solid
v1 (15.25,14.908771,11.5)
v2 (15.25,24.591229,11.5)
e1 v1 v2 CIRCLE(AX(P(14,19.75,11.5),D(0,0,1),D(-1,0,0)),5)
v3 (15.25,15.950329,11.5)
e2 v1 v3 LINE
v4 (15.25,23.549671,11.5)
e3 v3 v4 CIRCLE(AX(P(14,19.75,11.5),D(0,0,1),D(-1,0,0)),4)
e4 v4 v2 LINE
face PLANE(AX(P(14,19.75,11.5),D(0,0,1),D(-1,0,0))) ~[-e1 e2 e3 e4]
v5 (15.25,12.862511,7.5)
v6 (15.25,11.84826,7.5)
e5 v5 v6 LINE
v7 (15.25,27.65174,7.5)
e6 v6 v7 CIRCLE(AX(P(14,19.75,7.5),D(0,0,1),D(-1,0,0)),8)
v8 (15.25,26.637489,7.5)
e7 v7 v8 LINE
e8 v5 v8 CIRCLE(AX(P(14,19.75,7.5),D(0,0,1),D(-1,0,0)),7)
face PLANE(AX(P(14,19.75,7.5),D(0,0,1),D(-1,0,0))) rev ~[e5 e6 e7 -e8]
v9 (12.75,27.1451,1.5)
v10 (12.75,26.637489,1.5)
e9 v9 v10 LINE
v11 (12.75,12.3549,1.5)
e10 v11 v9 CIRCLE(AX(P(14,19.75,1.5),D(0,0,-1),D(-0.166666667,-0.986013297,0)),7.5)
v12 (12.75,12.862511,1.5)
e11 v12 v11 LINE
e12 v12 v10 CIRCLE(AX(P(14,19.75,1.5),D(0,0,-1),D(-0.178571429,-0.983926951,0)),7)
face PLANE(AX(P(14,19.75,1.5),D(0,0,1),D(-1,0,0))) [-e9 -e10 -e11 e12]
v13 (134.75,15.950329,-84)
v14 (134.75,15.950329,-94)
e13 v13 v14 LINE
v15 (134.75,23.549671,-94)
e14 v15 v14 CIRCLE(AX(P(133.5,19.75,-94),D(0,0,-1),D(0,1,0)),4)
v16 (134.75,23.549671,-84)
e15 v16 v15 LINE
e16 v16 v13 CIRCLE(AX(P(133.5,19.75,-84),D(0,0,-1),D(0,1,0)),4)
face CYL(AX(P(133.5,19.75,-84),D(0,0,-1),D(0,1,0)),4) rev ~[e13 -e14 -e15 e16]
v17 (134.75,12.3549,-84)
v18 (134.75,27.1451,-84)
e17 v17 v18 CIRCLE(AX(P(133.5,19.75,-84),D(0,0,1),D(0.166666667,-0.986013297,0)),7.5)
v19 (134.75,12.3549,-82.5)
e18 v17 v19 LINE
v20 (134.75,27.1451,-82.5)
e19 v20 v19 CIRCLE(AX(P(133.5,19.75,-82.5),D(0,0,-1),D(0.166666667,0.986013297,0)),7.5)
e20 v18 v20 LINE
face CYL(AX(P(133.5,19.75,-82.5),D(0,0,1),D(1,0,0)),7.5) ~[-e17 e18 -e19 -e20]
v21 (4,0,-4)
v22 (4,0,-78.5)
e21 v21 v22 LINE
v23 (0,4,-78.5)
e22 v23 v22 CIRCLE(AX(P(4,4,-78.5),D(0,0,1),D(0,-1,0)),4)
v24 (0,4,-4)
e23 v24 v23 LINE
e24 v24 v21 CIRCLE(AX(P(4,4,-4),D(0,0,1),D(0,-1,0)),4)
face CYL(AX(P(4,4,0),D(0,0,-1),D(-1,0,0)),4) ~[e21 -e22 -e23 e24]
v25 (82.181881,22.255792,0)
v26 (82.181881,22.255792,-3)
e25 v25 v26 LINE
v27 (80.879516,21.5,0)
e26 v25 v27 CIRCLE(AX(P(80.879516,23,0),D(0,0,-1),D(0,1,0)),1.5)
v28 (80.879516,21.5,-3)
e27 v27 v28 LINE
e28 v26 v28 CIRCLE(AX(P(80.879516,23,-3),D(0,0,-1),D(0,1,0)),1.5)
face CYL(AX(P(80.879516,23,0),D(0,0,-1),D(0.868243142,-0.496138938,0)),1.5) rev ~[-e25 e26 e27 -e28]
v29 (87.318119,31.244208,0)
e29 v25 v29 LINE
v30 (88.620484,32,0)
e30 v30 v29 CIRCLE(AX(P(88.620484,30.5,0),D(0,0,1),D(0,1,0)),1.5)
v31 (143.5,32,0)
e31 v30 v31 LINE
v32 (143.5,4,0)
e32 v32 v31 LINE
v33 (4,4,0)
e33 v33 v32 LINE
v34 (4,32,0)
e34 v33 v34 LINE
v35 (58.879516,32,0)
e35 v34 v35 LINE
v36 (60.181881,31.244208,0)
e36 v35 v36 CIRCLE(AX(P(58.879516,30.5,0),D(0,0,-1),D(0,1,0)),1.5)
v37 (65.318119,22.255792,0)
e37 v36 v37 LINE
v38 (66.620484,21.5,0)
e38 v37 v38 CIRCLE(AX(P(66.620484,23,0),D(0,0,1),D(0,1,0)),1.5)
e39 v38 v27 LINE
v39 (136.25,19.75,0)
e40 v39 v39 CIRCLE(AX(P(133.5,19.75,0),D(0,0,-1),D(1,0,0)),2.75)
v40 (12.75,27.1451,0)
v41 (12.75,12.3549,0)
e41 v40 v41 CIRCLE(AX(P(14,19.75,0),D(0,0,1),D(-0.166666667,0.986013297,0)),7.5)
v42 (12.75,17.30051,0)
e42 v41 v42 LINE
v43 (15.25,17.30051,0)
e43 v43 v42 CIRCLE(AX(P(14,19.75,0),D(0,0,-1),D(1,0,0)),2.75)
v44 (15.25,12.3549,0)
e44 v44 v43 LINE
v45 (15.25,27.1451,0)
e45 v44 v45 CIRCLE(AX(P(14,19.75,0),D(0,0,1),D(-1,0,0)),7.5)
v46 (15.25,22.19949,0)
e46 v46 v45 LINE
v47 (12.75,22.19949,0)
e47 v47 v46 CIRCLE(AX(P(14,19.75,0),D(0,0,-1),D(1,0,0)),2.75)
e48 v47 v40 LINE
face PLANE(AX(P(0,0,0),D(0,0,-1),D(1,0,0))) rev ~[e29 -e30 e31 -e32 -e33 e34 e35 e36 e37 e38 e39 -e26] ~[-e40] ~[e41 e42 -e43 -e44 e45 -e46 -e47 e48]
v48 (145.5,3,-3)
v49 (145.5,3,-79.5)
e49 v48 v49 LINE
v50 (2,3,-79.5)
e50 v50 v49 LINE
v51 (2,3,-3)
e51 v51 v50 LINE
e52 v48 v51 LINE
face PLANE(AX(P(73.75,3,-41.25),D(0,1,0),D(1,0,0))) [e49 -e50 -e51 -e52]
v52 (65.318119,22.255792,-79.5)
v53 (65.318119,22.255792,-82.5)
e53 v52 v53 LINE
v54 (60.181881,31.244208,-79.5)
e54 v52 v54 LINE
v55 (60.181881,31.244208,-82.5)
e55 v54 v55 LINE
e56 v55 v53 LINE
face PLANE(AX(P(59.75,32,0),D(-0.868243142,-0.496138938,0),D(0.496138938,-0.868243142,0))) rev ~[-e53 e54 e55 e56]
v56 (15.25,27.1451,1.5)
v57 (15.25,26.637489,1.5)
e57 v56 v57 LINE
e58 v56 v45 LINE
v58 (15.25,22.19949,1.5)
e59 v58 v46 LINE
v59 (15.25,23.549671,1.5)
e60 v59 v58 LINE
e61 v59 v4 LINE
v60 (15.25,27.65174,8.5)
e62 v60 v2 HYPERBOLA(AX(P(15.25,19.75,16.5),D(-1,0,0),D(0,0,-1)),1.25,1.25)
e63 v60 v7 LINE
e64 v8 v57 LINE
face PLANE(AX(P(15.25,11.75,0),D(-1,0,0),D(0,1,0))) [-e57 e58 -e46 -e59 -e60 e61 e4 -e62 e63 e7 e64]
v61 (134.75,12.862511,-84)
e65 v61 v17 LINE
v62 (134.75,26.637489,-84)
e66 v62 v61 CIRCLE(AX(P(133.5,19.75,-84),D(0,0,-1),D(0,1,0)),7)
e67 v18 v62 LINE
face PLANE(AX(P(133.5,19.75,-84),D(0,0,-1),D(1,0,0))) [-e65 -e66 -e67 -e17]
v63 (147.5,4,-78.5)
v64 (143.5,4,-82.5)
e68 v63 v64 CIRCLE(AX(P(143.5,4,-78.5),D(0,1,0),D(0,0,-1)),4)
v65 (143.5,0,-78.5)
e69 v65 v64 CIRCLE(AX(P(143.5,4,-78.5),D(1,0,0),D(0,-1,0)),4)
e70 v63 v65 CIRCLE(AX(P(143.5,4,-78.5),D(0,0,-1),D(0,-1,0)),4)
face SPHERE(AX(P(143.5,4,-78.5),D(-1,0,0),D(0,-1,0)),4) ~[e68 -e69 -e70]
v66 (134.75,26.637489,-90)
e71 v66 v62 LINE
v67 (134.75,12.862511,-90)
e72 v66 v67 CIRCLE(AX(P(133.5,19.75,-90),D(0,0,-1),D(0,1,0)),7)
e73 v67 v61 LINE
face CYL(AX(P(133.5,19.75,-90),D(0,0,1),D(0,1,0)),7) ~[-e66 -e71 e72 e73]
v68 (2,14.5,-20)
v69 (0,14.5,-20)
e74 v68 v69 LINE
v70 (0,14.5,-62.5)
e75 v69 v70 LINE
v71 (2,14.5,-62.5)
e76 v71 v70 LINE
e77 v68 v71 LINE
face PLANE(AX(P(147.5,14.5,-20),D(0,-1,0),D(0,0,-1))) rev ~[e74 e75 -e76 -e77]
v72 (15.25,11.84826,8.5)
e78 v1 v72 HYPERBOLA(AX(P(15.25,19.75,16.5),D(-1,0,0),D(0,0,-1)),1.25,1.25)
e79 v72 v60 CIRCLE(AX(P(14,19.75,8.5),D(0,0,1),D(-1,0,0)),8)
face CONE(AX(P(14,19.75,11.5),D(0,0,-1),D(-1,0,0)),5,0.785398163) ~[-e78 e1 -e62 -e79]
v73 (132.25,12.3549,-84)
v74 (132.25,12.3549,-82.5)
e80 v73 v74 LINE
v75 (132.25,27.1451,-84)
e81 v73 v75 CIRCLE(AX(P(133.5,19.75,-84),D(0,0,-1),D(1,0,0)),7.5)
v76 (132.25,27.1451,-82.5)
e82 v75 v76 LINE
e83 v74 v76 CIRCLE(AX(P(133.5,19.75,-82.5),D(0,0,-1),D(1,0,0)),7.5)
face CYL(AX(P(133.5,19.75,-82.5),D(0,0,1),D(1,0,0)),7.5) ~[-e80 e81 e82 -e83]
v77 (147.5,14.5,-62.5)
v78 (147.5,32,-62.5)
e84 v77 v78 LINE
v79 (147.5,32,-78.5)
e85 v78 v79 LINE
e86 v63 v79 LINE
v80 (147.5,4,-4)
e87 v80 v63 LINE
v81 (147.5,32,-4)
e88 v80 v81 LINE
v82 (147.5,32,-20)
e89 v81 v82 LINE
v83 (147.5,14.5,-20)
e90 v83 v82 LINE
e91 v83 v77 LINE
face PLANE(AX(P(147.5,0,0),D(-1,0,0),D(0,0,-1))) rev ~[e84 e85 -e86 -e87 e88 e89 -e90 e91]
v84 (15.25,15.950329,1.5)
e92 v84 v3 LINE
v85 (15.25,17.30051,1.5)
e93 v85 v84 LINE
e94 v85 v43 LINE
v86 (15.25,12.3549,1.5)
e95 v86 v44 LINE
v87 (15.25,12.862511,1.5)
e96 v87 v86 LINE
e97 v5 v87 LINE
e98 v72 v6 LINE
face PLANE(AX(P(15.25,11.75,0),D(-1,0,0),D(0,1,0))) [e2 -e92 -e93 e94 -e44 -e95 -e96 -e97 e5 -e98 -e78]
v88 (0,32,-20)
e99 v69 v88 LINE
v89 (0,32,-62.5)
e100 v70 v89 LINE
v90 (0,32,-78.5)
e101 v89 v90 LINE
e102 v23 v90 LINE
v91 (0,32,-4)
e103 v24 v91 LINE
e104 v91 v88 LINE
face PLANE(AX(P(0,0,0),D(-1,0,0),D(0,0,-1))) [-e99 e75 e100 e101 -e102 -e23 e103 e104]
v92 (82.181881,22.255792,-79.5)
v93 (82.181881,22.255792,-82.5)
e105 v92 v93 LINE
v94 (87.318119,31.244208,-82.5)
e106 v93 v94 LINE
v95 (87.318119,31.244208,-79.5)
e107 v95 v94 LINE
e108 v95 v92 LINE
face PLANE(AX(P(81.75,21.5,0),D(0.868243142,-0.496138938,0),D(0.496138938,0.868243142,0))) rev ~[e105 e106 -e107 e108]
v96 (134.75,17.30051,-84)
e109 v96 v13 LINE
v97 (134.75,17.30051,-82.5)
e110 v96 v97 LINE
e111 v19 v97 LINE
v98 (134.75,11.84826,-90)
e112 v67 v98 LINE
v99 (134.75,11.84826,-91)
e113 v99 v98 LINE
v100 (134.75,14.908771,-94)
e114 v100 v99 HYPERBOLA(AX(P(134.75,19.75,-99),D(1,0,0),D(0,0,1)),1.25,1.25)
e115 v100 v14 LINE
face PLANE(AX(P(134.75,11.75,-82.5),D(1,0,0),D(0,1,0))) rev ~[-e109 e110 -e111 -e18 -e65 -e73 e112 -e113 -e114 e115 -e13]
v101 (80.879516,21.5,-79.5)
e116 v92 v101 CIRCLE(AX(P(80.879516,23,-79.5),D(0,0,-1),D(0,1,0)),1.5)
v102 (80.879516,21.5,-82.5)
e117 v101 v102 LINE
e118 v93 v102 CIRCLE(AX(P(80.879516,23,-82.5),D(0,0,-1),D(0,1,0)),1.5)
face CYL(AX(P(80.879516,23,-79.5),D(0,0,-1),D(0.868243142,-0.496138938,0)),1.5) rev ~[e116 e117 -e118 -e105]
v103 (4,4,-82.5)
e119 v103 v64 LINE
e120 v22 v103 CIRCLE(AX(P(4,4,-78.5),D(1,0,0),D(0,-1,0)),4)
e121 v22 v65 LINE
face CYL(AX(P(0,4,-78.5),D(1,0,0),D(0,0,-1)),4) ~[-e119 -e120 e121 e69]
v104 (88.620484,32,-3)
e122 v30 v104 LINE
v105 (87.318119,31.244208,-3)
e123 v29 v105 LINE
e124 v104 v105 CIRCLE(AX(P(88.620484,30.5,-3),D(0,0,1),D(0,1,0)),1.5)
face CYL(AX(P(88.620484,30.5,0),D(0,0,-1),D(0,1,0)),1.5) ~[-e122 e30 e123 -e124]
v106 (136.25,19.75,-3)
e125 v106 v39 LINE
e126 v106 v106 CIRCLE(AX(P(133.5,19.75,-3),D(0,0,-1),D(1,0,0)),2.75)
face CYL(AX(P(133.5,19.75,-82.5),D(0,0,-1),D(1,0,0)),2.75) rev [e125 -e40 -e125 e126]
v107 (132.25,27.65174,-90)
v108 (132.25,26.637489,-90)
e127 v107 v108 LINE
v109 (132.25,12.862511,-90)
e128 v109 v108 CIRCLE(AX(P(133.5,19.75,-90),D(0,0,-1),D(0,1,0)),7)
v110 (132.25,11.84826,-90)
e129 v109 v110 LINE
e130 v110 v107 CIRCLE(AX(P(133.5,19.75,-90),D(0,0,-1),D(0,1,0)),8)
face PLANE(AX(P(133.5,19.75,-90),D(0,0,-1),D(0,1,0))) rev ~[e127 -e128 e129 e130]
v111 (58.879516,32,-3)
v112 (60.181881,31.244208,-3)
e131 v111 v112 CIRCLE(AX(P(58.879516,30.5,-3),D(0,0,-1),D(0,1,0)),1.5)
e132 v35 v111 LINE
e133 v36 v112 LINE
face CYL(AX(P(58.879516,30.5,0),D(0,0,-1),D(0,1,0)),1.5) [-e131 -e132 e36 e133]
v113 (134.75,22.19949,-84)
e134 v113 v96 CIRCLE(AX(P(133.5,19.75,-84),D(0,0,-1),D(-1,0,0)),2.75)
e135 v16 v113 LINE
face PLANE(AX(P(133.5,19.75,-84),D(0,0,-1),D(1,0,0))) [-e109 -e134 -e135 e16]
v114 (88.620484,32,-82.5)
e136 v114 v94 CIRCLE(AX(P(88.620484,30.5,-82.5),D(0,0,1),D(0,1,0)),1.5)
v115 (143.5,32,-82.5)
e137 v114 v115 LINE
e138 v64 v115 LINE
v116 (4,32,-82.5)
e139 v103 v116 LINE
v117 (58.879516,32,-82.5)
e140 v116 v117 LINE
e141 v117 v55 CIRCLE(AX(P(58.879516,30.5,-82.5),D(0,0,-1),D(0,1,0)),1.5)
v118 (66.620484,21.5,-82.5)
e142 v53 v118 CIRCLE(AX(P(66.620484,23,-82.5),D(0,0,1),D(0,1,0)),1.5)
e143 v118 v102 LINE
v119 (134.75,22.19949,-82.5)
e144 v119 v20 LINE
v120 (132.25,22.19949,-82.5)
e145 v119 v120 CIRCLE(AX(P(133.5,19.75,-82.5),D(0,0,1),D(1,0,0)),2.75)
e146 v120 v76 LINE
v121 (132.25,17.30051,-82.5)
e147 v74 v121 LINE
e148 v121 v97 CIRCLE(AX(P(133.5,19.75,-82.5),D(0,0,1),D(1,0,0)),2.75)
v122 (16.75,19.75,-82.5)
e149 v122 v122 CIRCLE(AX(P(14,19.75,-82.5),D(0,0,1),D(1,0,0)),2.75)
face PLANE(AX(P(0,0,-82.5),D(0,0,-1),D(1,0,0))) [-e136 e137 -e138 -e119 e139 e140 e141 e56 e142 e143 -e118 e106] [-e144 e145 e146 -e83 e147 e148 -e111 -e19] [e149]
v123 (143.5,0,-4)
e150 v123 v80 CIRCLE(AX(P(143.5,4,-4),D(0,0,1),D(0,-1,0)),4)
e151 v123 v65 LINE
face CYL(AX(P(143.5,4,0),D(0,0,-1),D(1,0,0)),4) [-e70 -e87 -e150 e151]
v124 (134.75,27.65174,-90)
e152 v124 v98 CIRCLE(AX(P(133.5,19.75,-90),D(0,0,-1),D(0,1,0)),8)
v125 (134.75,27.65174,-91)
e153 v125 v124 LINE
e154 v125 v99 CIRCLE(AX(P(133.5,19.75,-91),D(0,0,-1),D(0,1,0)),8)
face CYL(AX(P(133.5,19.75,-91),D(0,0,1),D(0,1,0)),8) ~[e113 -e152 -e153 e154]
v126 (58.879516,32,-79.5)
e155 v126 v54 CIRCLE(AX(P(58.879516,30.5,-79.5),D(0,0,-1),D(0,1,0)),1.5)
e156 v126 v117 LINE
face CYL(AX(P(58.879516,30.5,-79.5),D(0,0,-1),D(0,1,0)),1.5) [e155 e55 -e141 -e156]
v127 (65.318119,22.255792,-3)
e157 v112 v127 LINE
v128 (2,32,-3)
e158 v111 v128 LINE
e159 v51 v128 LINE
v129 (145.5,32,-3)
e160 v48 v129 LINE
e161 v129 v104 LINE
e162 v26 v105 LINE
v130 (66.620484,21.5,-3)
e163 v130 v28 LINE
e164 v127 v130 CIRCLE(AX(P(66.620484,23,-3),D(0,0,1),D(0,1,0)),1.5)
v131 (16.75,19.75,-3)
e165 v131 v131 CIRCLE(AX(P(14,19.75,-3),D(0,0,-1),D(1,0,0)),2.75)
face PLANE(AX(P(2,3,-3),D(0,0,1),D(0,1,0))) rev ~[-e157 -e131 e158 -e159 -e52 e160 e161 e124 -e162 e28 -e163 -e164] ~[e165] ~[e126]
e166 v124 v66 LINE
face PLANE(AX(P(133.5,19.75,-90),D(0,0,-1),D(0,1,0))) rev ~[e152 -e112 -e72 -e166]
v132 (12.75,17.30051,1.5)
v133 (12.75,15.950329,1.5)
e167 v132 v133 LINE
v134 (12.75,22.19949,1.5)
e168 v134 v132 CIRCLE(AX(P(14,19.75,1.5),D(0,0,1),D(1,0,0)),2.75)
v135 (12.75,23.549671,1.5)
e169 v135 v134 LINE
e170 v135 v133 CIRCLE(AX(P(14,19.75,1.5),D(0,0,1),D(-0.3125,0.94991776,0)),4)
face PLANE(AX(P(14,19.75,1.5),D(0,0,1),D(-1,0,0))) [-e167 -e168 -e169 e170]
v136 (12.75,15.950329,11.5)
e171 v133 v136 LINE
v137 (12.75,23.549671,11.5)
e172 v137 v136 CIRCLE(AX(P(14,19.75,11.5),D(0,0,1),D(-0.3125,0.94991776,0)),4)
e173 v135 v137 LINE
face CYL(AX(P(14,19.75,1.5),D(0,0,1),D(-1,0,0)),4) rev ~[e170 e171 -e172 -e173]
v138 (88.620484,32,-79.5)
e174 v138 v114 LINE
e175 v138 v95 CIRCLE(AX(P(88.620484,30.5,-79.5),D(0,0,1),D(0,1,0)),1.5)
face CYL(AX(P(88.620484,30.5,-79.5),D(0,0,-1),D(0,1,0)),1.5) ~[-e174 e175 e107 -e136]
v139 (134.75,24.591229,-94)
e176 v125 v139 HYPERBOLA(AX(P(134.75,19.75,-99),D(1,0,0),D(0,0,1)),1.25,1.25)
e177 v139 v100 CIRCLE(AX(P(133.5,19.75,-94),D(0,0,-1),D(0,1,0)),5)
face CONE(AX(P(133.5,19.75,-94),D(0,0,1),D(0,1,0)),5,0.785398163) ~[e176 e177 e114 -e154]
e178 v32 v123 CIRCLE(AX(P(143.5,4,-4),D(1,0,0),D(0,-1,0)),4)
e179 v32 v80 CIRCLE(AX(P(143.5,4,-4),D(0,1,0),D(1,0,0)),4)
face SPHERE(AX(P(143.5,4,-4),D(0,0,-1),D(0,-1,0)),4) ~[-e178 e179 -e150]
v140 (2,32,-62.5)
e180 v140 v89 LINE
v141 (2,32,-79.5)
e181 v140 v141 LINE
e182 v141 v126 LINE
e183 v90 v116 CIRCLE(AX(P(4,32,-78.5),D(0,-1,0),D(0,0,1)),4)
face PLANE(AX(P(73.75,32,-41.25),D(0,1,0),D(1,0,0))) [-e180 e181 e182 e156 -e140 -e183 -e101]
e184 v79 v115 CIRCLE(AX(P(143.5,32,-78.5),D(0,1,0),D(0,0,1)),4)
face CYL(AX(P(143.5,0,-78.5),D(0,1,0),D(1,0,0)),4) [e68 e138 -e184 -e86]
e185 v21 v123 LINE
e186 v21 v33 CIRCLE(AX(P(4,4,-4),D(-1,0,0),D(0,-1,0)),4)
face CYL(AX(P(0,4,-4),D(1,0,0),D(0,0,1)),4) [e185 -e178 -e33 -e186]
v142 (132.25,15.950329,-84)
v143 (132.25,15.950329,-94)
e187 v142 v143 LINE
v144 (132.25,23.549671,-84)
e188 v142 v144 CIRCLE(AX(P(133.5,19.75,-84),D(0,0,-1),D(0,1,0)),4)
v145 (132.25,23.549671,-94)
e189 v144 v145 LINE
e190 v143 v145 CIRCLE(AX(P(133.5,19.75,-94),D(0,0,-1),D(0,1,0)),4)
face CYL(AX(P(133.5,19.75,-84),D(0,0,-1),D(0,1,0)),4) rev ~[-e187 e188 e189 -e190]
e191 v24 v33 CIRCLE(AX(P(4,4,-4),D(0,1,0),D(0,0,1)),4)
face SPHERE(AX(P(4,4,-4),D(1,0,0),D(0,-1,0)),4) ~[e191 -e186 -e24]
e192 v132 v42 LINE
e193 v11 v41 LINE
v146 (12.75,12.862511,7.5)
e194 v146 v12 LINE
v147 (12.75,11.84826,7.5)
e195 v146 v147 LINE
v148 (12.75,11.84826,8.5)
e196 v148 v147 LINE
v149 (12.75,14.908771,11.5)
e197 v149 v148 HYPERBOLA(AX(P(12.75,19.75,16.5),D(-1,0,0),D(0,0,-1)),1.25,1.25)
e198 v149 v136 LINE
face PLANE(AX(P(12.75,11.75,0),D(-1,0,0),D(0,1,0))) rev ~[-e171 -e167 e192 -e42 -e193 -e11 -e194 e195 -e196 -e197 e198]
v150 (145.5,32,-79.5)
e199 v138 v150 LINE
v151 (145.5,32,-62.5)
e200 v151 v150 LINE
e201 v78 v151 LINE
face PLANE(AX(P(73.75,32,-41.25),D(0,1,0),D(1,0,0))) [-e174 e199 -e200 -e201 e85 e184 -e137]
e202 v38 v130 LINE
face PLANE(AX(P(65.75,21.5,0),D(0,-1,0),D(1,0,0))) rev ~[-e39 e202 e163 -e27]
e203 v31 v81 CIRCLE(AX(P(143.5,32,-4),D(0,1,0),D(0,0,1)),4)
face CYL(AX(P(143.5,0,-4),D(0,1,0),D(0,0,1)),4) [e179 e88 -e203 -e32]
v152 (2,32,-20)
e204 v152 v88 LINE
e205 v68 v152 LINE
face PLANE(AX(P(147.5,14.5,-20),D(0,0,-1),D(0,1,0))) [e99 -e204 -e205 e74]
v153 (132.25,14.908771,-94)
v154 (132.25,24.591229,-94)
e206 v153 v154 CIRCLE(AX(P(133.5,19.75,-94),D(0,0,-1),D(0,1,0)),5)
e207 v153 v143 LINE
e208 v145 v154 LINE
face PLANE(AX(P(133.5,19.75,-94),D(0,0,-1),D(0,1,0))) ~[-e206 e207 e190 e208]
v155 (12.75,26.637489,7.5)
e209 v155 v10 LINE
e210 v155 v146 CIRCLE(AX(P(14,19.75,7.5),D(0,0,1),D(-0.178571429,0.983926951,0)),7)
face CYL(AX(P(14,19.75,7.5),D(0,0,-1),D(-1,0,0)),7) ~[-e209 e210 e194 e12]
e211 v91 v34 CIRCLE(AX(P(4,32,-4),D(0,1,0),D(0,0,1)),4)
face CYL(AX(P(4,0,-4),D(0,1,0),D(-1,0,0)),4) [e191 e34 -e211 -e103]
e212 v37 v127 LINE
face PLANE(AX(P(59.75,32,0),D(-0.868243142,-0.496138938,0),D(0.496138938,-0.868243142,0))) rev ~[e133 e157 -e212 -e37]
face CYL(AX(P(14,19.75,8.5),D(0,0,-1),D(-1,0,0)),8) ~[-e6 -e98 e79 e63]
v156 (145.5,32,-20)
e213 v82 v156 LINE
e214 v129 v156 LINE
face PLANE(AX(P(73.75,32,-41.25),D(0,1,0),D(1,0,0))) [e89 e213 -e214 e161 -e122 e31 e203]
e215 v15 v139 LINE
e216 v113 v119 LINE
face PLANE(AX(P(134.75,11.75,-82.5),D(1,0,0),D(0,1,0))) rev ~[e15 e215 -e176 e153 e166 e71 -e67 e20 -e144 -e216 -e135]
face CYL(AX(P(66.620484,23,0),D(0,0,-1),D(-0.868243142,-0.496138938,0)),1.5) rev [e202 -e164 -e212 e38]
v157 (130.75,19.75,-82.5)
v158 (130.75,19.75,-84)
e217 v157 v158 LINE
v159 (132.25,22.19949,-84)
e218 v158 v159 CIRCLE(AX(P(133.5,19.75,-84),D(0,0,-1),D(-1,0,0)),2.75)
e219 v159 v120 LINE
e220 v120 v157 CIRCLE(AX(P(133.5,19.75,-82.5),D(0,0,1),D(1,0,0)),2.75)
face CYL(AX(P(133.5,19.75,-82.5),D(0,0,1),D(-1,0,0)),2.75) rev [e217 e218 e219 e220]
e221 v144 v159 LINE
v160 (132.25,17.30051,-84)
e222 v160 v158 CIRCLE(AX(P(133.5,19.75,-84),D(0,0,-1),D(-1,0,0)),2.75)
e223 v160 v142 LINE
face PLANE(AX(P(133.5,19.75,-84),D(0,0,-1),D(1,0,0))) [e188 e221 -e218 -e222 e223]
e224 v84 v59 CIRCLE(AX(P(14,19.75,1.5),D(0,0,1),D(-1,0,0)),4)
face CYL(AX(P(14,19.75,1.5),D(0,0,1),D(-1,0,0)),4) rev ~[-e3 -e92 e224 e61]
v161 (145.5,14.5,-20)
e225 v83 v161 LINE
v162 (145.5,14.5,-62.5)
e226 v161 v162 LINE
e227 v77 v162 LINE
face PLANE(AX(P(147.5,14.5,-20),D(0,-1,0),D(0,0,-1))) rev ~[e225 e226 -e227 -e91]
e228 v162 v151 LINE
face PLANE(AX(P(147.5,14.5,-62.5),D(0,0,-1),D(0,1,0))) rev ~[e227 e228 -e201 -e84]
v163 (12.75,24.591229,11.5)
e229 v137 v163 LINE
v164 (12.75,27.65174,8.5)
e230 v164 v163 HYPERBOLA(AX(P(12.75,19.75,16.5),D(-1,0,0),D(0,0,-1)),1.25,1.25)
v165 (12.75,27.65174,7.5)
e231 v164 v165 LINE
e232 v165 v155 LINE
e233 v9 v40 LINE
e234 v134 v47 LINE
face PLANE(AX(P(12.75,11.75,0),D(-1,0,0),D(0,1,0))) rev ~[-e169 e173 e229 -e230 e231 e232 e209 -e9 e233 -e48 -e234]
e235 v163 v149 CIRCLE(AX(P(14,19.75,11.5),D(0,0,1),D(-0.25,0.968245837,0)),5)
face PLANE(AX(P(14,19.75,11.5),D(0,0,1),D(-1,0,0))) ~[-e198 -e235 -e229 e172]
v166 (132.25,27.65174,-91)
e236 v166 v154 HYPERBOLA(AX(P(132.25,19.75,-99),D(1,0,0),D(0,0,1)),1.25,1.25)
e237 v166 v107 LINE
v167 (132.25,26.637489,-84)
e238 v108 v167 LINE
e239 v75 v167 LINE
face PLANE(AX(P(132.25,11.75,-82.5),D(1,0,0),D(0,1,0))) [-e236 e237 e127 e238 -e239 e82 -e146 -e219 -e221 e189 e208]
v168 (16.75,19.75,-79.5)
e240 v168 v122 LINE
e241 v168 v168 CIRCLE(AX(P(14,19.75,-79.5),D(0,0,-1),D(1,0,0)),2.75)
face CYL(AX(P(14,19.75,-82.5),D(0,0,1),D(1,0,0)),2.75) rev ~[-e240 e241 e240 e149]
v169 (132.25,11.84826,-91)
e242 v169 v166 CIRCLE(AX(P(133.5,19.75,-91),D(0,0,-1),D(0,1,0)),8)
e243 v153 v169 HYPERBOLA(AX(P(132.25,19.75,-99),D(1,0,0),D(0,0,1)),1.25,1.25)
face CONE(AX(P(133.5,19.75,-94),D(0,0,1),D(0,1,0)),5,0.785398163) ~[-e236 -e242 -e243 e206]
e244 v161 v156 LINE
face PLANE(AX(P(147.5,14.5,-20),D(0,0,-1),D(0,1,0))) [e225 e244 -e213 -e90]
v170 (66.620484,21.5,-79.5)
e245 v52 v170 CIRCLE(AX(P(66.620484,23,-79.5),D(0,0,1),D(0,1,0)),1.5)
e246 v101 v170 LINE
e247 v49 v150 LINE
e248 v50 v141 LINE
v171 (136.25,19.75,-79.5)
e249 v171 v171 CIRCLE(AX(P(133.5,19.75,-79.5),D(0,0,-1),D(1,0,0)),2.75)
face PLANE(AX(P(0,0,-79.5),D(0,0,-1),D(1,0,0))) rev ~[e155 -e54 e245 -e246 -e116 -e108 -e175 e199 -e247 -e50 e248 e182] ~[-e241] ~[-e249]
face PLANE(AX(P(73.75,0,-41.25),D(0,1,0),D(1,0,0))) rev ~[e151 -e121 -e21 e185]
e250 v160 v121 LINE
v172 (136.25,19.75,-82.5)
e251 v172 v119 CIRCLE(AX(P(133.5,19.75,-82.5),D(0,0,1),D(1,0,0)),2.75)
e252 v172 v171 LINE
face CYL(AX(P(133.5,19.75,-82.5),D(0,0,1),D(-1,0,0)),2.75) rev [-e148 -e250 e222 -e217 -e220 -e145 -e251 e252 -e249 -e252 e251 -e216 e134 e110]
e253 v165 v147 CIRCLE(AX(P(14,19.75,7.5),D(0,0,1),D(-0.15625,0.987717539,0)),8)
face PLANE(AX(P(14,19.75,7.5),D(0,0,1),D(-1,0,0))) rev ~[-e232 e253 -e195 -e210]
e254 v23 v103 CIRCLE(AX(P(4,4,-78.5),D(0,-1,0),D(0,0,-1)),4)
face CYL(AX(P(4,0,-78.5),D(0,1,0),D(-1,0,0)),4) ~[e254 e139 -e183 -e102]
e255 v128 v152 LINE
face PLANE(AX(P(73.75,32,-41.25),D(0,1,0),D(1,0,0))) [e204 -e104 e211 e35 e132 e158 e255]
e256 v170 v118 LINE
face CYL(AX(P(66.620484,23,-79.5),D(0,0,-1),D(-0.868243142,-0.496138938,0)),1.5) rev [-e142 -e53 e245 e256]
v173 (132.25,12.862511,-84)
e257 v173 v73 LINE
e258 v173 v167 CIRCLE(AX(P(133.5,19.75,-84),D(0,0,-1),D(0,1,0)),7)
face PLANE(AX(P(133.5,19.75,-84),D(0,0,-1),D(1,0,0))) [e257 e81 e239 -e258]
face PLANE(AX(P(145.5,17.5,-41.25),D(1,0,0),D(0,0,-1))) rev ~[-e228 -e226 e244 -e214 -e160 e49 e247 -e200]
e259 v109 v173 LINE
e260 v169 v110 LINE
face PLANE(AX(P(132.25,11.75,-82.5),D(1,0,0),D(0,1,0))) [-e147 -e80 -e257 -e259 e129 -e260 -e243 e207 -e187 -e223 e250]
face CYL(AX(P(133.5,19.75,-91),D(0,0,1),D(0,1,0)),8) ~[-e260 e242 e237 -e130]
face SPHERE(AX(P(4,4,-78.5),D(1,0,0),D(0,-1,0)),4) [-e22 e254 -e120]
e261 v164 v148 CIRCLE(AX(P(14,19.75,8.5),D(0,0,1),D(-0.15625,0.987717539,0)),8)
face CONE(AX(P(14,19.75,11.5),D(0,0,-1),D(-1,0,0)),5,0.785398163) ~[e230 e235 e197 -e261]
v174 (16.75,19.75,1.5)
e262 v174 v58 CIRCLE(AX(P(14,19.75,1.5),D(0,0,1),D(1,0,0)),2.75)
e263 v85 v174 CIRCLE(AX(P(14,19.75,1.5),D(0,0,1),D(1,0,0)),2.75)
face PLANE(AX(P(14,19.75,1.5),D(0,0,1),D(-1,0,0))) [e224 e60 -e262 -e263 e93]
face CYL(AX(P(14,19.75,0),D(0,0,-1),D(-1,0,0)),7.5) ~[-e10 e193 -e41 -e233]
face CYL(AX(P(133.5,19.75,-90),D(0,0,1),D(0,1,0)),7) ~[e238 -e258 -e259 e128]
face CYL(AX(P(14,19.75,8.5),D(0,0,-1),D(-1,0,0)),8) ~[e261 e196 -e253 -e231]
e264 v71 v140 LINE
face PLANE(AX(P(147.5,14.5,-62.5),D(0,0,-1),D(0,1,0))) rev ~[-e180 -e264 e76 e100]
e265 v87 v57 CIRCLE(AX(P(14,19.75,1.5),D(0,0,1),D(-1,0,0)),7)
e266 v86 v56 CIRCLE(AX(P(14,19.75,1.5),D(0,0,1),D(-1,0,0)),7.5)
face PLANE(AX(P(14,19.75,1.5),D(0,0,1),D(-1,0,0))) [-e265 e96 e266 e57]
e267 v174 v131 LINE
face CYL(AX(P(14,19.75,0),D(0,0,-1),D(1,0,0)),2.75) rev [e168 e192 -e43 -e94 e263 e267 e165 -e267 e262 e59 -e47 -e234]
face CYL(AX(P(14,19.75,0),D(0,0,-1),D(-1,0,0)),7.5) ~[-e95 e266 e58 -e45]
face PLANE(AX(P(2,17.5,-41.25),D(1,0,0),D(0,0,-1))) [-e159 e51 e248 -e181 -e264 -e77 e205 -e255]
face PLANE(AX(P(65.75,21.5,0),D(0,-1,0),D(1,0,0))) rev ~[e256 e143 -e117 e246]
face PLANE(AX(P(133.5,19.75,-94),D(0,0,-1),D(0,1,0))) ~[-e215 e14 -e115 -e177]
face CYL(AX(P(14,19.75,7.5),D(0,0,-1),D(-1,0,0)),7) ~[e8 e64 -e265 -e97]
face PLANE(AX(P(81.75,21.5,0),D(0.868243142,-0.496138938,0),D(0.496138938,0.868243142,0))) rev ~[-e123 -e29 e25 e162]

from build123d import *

# Parameters (mm, degrees)
SKETCH1_W                                    = 147.5
SKETCH1_H                                    = 82.5
BOSS_EXTRUDE1_DEPTH                          = 32
SHELL1_T                                     = -3
FILLET1_R                                    = 4
CUT_EXTRUDE1_START                           = -1
SKETCH4_W                                    = 76.5
SKETCH4_H                                    = 29
CUT_EXTRUDE1_DEPTH                           = 143.5
CUT_EXTRUDE2_REACH                           = 174.007
SKETCH5_W                                    = 42.5
SKETCH5_H                                    = 17.5
CUT_EXTRUDE3_REACH                           = 174.007
FILLET2_R                                    = 1.5
CUT_EXTRUDE4_START                           = -82.5
SKETCH7_R                                    = 2.75
CUT_EXTRUDE4_DEPTH                           = 82.5
SKETCH9_R                                    = 7.5
SKETCH9_R_2                                  = 2.75
BOSS_EXTRUDE3_DEPTH                          = 1.5
CUT_EXTRUDE5_REACH                           = 174.007
SKETCH11_W                                   = 2.5
SKETCH11_H                                   = 16
MIRROR2_AT_THE_SECOND_PLANE_COPY_1_SKETC_R   = 7.5
MIRROR2_AT_THE_SECOND_PLANE_COPY_1_SKETC_R_2 = 2.75
MIRROR2_AT_THE_SECOND_PLANE_COPY_1_DEPTH     = 1.5
MIRROR2_AT_THE_SECOND_PLANE_COPY_3_REACH     = 174.007
MIRROR2_AT_THE_SECOND_PLANE_COPY_3_SKETC_W   = 2.5
MIRROR2_AT_THE_SECOND_PLANE_COPY_3_SKETC_H   = 16
SKETCH12_W                                   = 25.238507428
SKETCH12_H                                   = 22.458767107
CUT_EXTRUDE6_DEPTH                           = 11.5
CUT_EXTRUDE7_REACH                           = 179.81
SKETCH13_W                                   = 81.509123874
SKETCH13_H                                   = 19.339493898


with BuildPart() as part:
    # Sketch1 → Boss-Extrude1 (new body)
    with BuildSketch(Plane(origin=(0, 0, 0), x_dir=(1, 0, 0), z_dir=(0, 1, 0))):
        with Locations((73.75, 41.25)):
            Rectangle(SKETCH1_W, SKETCH1_H)
    extrude(amount=BOSS_EXTRUDE1_DEPTH)

    # Shell1
    shell1_openings = [part.faces().sort_by_distance(p)[0] for p in [
        (73.75, 32, -41.25),
    ]]
    offset(amount=SHELL1_T, openings=shell1_openings, kind=Kind.INTERSECTION)

    # Fillet1
    fillet1_edges = [part.edges().sort_by_distance(p)[0] for p in [
        (73.75, 0, -82.5),
        (147.5, 0, -41.25),
        (73.75, 0, 0),
        (0, 0, -41.25),
        (0, 16, -82.5),
        (147.5, 16, -82.5),
        (147.5, 16, 0),
        (0, 16, 0),
    ]]
    fillet(fillet1_edges, radius=FILLET1_R)

    # Sketch4 → Cut-Extrude1 (cut)
    with BuildSketch(Plane(origin=(3, 0, 0), x_dir=(0, 0, -1), z_dir=(1, 0, 0)).offset(CUT_EXTRUDE1_START)):
        with Locations((41.25, 17.5)):
            Rectangle(SKETCH4_W, SKETCH4_H)
    extrude(amount=CUT_EXTRUDE1_DEPTH, mode=Mode.SUBTRACT)

    # Cut-Extrude2: up to this face of the body (flat: up to its plane)
    cut_extrude2_end = Plane(part.part.faces().sort_by_distance((0, 18, -41.25))[0])
    # Sketch5 → Cut-Extrude2 (cut, up to the picked face)
    with BuildSketch(Plane(origin=(147.5, 0, 0), x_dir=(0, 0, -1), z_dir=(1, 0, 0)), mode=Mode.PRIVATE) as cut_extrude2_sk1:
        with Locations((41.25, 23.25)):
            Rectangle(SKETCH5_W, SKETCH5_H)
    cut_extrude2_tool1 = split(extrude(cut_extrude2_sk1.sketch, amount=-CUT_EXTRUDE2_REACH, mode=Mode.PRIVATE), bisect_by=cut_extrude2_end, keep=Keep.BOTH, mode=Mode.PRIVATE)
    add(cut_extrude2_tool1.solids().sort_by(Axis((147.5, 23.25, -41.25), (-1, 0, 0)))[0], mode=Mode.SUBTRACT)

    # Cut-Extrude3: up to this face of the body (flat: up to its plane)
    cut_extrude3_end = Plane(part.part.faces().sort_by_distance((73.75, 18, -82.5))[0])
    # Sketch6 → Cut-Extrude3 (cut, up to the picked face)
    with BuildSketch(Plane.XY, mode=Mode.PRIVATE) as cut_extrude3_sk1:
        Polygon((65.75, 21.5), (81.75, 21.5), (87.75, 32), (59.75, 32), align=None)
    cut_extrude3_tool1 = split(extrude(cut_extrude3_sk1.sketch, amount=-CUT_EXTRUDE3_REACH, mode=Mode.PRIVATE), bisect_by=cut_extrude3_end, keep=Keep.BOTH, mode=Mode.PRIVATE)
    add(cut_extrude3_tool1.solids().sort_by(Axis((73.75, 27.227273, 0), (0, 0, -1)))[0], mode=Mode.SUBTRACT)

    # Fillet2
    fillet2_edges = [part.edges().sort_by_distance(p)[0] for p in [
        (65.75, 21.5, -1.5),
        (59.75, 32, -1.5),
        (87.75, 32, -1.5),
        (81.75, 21.5, -1.5),
        (65.75, 21.5, -81),
        (59.75, 32, -81),
        (87.75, 32, -81),
        (81.75, 21.5, -81),
    ]]
    fillet(fillet2_edges, radius=FILLET2_R)

    # Sketch7 → Cut-Extrude4 (cut)
    with BuildSketch(Plane.XY.offset(CUT_EXTRUDE4_START)):
        with Locations((14, 19.75)):
            Circle(SKETCH7_R)
        with Locations((133.5, 19.75)):
            Circle(SKETCH7_R)
    extrude(amount=CUT_EXTRUDE4_DEPTH, mode=Mode.SUBTRACT)

    # Sketch9 → Boss-Extrude3 (add)
    with BuildSketch(Plane.XY):
        with Locations(Location((14, 19.75, 0), (0, 0, 180))):
            Circle(SKETCH9_R)
        with Locations((14, 19.75)):
            Circle(SKETCH9_R_2, mode=Mode.SUBTRACT)
    boss_extrude3 = extrude(amount=BOSS_EXTRUDE3_DEPTH)

    # Sketch10 → Revolve1 (revolve)
    with BuildSketch(Plane.ZY.offset(-14), mode=Mode.PRIVATE) as revolve1_sk:
        Polygon((11.5, 24.75), (8.5, 27.75), (7.5, 27.75), (7.5, 26.75), (1.5, 26.75), (1.5, 23.75), (11.5, 23.75), align=None)
    revolve1 = revolve(revolve1_sk.sketch.rotate(Axis((14, 19.75, 0), (0, 0, 1)), 90), axis=Axis((14, 19.75, 0), (0, 0, 1)))

    # Cut-Extrude5: up to this face of the body (flat: up to its plane)
    cut_extrude5_end = Plane(part.part.faces().sort_by_distance((18.141421356, 19.75, 11.5))[0])
    # Sketch11 → Cut-Extrude5 (cut, up to the picked face)
    with BuildSketch(Plane.XY, mode=Mode.PRIVATE) as cut_extrude5_sk1:
        with Locations((14, 19.75)):
            Rectangle(SKETCH11_W, SKETCH11_H)
    cut_extrude5_tool1 = split(extrude(cut_extrude5_sk1.sketch, amount=CUT_EXTRUDE5_REACH, mode=Mode.PRIVATE), bisect_by=cut_extrude5_end, keep=Keep.BOTH, mode=Mode.PRIVATE)
    cut_extrude5 = cut_extrude5_tool1.solids().sort_by(Axis((14, 19.75, 0), (0, 0, 1)))[0]
    add(cut_extrude5, mode=Mode.SUBTRACT)

    # Mirror2: Boss-Extrude3, Revolve1, Cut-Extrude5 across plane
    add(boss_extrude3.mirror(Plane.ZY.offset(-73.75)))
    add(revolve1.mirror(Plane.ZY.offset(-73.75)))
    add(cut_extrude5.mirror(Plane.ZY.offset(-73.75)), mode=Mode.SUBTRACT)

    # Mirror2 at the second plane: Boss-Extrude3, Revolve1, Cut-Extrude5 across plane
    add(boss_extrude3.mirror(Plane.XY.offset(-41.25)))
    add(revolve1.mirror(Plane.XY.offset(-41.25)))
    add(cut_extrude5.mirror(Plane.XY.offset(-41.25)), mode=Mode.SUBTRACT)

    # Mirror2 at the second plane copy 1 sketc → Mirror2 at the second plane copy 1 (add)
    with BuildSketch(Plane(origin=(147.5, 0, -82.5), x_dir=(-1, 0, 0), z_dir=(0, 0, -1))):
        with Locations(Location((14, 19.75, 0), (0, 0, 180))):
            Circle(MIRROR2_AT_THE_SECOND_PLANE_COPY_1_SKETC_R)
        with Locations((14, 19.75)):
            Circle(MIRROR2_AT_THE_SECOND_PLANE_COPY_1_SKETC_R_2, mode=Mode.SUBTRACT)
    extrude(amount=MIRROR2_AT_THE_SECOND_PLANE_COPY_1_DEPTH)

    # Mirror2 at the second plane copy 2 sketc → Mirror2 at the second plane copy 2 (revolve)
    with BuildSketch(Plane(origin=(133.5, 0, -82.5), x_dir=(0, 0, -1), z_dir=(1, 0, 0))):
        Polygon((11.5, 24.75), (8.5, 27.75), (7.5, 27.75), (7.5, 26.75), (1.5, 26.75), (1.5, 23.75), (11.5, 23.75), align=None)
    revolve(axis=Axis((133.5, 19.75, -82.5), (0, 0, -1)))

    # Mirror2 at the second plane copy 3: up to this face of the body (flat: up to its plane)
    mirror2_at_the_second_plane_copy_3_end = Plane(part.part.faces().sort_by_distance((129.358578644, 19.75, -94))[0])
    # Mirror2 at the second plane copy 3 sketc → Mirror2 at the second plane copy 3 (cut, up to the picked face)
    with BuildSketch(Plane(origin=(147.5, 0, -82.5), x_dir=(-1, 0, 0), z_dir=(0, 0, -1)), mode=Mode.PRIVATE) as mirror2_at_the_second_plane_copy_3_sk1:
        with Locations((14, 19.75)):
            Rectangle(MIRROR2_AT_THE_SECOND_PLANE_COPY_3_SKETC_W, MIRROR2_AT_THE_SECOND_PLANE_COPY_3_SKETC_H)
    mirror2_at_the_second_plane_copy_3_tool1 = split(extrude(mirror2_at_the_second_plane_copy_3_sk1.sketch, amount=MIRROR2_AT_THE_SECOND_PLANE_COPY_3_REACH, mode=Mode.PRIVATE), bisect_by=mirror2_at_the_second_plane_copy_3_end, keep=Keep.BOTH, mode=Mode.PRIVATE)
    add(mirror2_at_the_second_plane_copy_3_tool1.solids().sort_by(Axis((133.5, 19.75, -82.5), (0, 0, -1)))[0], mode=Mode.SUBTRACT)

    # Sketch12 → Cut-Extrude6 (cut)
    with BuildSketch(Plane(origin=(0, 0, -82.5), x_dir=(-1, 0, 0), z_dir=(0, 0, -1))):
        with Locations((-16.619253714, 19.183530238)):
            Rectangle(SKETCH12_W, SKETCH12_H)
    extrude(amount=CUT_EXTRUDE6_DEPTH, mode=Mode.SUBTRACT)

    # Sketch13 → Cut-Extrude7 (cut, up to next)
    with BuildSketch(Plane.XY, mode=Mode.PRIVATE) as cut_extrude7_sk1:
        with Locations((102.745438063, 20.1193122)):
            Rectangle(SKETCH13_W, SKETCH13_H)
    cut_extrude7_tool1 = extrude(cut_extrude7_sk1.sketch, amount=CUT_EXTRUDE7_REACH, mode=Mode.PRIVATE) & part.part
    add(cut_extrude7_tool1.solids().sort_by_distance((102.745438, 20.119312, 0))[0], mode=Mode.SUBTRACT)
    add(cut_extrude7_tool1.solids().sort_by_distance((102.745438, 20.119312, 0))[1], mode=Mode.SUBTRACT)


solid = part.part
